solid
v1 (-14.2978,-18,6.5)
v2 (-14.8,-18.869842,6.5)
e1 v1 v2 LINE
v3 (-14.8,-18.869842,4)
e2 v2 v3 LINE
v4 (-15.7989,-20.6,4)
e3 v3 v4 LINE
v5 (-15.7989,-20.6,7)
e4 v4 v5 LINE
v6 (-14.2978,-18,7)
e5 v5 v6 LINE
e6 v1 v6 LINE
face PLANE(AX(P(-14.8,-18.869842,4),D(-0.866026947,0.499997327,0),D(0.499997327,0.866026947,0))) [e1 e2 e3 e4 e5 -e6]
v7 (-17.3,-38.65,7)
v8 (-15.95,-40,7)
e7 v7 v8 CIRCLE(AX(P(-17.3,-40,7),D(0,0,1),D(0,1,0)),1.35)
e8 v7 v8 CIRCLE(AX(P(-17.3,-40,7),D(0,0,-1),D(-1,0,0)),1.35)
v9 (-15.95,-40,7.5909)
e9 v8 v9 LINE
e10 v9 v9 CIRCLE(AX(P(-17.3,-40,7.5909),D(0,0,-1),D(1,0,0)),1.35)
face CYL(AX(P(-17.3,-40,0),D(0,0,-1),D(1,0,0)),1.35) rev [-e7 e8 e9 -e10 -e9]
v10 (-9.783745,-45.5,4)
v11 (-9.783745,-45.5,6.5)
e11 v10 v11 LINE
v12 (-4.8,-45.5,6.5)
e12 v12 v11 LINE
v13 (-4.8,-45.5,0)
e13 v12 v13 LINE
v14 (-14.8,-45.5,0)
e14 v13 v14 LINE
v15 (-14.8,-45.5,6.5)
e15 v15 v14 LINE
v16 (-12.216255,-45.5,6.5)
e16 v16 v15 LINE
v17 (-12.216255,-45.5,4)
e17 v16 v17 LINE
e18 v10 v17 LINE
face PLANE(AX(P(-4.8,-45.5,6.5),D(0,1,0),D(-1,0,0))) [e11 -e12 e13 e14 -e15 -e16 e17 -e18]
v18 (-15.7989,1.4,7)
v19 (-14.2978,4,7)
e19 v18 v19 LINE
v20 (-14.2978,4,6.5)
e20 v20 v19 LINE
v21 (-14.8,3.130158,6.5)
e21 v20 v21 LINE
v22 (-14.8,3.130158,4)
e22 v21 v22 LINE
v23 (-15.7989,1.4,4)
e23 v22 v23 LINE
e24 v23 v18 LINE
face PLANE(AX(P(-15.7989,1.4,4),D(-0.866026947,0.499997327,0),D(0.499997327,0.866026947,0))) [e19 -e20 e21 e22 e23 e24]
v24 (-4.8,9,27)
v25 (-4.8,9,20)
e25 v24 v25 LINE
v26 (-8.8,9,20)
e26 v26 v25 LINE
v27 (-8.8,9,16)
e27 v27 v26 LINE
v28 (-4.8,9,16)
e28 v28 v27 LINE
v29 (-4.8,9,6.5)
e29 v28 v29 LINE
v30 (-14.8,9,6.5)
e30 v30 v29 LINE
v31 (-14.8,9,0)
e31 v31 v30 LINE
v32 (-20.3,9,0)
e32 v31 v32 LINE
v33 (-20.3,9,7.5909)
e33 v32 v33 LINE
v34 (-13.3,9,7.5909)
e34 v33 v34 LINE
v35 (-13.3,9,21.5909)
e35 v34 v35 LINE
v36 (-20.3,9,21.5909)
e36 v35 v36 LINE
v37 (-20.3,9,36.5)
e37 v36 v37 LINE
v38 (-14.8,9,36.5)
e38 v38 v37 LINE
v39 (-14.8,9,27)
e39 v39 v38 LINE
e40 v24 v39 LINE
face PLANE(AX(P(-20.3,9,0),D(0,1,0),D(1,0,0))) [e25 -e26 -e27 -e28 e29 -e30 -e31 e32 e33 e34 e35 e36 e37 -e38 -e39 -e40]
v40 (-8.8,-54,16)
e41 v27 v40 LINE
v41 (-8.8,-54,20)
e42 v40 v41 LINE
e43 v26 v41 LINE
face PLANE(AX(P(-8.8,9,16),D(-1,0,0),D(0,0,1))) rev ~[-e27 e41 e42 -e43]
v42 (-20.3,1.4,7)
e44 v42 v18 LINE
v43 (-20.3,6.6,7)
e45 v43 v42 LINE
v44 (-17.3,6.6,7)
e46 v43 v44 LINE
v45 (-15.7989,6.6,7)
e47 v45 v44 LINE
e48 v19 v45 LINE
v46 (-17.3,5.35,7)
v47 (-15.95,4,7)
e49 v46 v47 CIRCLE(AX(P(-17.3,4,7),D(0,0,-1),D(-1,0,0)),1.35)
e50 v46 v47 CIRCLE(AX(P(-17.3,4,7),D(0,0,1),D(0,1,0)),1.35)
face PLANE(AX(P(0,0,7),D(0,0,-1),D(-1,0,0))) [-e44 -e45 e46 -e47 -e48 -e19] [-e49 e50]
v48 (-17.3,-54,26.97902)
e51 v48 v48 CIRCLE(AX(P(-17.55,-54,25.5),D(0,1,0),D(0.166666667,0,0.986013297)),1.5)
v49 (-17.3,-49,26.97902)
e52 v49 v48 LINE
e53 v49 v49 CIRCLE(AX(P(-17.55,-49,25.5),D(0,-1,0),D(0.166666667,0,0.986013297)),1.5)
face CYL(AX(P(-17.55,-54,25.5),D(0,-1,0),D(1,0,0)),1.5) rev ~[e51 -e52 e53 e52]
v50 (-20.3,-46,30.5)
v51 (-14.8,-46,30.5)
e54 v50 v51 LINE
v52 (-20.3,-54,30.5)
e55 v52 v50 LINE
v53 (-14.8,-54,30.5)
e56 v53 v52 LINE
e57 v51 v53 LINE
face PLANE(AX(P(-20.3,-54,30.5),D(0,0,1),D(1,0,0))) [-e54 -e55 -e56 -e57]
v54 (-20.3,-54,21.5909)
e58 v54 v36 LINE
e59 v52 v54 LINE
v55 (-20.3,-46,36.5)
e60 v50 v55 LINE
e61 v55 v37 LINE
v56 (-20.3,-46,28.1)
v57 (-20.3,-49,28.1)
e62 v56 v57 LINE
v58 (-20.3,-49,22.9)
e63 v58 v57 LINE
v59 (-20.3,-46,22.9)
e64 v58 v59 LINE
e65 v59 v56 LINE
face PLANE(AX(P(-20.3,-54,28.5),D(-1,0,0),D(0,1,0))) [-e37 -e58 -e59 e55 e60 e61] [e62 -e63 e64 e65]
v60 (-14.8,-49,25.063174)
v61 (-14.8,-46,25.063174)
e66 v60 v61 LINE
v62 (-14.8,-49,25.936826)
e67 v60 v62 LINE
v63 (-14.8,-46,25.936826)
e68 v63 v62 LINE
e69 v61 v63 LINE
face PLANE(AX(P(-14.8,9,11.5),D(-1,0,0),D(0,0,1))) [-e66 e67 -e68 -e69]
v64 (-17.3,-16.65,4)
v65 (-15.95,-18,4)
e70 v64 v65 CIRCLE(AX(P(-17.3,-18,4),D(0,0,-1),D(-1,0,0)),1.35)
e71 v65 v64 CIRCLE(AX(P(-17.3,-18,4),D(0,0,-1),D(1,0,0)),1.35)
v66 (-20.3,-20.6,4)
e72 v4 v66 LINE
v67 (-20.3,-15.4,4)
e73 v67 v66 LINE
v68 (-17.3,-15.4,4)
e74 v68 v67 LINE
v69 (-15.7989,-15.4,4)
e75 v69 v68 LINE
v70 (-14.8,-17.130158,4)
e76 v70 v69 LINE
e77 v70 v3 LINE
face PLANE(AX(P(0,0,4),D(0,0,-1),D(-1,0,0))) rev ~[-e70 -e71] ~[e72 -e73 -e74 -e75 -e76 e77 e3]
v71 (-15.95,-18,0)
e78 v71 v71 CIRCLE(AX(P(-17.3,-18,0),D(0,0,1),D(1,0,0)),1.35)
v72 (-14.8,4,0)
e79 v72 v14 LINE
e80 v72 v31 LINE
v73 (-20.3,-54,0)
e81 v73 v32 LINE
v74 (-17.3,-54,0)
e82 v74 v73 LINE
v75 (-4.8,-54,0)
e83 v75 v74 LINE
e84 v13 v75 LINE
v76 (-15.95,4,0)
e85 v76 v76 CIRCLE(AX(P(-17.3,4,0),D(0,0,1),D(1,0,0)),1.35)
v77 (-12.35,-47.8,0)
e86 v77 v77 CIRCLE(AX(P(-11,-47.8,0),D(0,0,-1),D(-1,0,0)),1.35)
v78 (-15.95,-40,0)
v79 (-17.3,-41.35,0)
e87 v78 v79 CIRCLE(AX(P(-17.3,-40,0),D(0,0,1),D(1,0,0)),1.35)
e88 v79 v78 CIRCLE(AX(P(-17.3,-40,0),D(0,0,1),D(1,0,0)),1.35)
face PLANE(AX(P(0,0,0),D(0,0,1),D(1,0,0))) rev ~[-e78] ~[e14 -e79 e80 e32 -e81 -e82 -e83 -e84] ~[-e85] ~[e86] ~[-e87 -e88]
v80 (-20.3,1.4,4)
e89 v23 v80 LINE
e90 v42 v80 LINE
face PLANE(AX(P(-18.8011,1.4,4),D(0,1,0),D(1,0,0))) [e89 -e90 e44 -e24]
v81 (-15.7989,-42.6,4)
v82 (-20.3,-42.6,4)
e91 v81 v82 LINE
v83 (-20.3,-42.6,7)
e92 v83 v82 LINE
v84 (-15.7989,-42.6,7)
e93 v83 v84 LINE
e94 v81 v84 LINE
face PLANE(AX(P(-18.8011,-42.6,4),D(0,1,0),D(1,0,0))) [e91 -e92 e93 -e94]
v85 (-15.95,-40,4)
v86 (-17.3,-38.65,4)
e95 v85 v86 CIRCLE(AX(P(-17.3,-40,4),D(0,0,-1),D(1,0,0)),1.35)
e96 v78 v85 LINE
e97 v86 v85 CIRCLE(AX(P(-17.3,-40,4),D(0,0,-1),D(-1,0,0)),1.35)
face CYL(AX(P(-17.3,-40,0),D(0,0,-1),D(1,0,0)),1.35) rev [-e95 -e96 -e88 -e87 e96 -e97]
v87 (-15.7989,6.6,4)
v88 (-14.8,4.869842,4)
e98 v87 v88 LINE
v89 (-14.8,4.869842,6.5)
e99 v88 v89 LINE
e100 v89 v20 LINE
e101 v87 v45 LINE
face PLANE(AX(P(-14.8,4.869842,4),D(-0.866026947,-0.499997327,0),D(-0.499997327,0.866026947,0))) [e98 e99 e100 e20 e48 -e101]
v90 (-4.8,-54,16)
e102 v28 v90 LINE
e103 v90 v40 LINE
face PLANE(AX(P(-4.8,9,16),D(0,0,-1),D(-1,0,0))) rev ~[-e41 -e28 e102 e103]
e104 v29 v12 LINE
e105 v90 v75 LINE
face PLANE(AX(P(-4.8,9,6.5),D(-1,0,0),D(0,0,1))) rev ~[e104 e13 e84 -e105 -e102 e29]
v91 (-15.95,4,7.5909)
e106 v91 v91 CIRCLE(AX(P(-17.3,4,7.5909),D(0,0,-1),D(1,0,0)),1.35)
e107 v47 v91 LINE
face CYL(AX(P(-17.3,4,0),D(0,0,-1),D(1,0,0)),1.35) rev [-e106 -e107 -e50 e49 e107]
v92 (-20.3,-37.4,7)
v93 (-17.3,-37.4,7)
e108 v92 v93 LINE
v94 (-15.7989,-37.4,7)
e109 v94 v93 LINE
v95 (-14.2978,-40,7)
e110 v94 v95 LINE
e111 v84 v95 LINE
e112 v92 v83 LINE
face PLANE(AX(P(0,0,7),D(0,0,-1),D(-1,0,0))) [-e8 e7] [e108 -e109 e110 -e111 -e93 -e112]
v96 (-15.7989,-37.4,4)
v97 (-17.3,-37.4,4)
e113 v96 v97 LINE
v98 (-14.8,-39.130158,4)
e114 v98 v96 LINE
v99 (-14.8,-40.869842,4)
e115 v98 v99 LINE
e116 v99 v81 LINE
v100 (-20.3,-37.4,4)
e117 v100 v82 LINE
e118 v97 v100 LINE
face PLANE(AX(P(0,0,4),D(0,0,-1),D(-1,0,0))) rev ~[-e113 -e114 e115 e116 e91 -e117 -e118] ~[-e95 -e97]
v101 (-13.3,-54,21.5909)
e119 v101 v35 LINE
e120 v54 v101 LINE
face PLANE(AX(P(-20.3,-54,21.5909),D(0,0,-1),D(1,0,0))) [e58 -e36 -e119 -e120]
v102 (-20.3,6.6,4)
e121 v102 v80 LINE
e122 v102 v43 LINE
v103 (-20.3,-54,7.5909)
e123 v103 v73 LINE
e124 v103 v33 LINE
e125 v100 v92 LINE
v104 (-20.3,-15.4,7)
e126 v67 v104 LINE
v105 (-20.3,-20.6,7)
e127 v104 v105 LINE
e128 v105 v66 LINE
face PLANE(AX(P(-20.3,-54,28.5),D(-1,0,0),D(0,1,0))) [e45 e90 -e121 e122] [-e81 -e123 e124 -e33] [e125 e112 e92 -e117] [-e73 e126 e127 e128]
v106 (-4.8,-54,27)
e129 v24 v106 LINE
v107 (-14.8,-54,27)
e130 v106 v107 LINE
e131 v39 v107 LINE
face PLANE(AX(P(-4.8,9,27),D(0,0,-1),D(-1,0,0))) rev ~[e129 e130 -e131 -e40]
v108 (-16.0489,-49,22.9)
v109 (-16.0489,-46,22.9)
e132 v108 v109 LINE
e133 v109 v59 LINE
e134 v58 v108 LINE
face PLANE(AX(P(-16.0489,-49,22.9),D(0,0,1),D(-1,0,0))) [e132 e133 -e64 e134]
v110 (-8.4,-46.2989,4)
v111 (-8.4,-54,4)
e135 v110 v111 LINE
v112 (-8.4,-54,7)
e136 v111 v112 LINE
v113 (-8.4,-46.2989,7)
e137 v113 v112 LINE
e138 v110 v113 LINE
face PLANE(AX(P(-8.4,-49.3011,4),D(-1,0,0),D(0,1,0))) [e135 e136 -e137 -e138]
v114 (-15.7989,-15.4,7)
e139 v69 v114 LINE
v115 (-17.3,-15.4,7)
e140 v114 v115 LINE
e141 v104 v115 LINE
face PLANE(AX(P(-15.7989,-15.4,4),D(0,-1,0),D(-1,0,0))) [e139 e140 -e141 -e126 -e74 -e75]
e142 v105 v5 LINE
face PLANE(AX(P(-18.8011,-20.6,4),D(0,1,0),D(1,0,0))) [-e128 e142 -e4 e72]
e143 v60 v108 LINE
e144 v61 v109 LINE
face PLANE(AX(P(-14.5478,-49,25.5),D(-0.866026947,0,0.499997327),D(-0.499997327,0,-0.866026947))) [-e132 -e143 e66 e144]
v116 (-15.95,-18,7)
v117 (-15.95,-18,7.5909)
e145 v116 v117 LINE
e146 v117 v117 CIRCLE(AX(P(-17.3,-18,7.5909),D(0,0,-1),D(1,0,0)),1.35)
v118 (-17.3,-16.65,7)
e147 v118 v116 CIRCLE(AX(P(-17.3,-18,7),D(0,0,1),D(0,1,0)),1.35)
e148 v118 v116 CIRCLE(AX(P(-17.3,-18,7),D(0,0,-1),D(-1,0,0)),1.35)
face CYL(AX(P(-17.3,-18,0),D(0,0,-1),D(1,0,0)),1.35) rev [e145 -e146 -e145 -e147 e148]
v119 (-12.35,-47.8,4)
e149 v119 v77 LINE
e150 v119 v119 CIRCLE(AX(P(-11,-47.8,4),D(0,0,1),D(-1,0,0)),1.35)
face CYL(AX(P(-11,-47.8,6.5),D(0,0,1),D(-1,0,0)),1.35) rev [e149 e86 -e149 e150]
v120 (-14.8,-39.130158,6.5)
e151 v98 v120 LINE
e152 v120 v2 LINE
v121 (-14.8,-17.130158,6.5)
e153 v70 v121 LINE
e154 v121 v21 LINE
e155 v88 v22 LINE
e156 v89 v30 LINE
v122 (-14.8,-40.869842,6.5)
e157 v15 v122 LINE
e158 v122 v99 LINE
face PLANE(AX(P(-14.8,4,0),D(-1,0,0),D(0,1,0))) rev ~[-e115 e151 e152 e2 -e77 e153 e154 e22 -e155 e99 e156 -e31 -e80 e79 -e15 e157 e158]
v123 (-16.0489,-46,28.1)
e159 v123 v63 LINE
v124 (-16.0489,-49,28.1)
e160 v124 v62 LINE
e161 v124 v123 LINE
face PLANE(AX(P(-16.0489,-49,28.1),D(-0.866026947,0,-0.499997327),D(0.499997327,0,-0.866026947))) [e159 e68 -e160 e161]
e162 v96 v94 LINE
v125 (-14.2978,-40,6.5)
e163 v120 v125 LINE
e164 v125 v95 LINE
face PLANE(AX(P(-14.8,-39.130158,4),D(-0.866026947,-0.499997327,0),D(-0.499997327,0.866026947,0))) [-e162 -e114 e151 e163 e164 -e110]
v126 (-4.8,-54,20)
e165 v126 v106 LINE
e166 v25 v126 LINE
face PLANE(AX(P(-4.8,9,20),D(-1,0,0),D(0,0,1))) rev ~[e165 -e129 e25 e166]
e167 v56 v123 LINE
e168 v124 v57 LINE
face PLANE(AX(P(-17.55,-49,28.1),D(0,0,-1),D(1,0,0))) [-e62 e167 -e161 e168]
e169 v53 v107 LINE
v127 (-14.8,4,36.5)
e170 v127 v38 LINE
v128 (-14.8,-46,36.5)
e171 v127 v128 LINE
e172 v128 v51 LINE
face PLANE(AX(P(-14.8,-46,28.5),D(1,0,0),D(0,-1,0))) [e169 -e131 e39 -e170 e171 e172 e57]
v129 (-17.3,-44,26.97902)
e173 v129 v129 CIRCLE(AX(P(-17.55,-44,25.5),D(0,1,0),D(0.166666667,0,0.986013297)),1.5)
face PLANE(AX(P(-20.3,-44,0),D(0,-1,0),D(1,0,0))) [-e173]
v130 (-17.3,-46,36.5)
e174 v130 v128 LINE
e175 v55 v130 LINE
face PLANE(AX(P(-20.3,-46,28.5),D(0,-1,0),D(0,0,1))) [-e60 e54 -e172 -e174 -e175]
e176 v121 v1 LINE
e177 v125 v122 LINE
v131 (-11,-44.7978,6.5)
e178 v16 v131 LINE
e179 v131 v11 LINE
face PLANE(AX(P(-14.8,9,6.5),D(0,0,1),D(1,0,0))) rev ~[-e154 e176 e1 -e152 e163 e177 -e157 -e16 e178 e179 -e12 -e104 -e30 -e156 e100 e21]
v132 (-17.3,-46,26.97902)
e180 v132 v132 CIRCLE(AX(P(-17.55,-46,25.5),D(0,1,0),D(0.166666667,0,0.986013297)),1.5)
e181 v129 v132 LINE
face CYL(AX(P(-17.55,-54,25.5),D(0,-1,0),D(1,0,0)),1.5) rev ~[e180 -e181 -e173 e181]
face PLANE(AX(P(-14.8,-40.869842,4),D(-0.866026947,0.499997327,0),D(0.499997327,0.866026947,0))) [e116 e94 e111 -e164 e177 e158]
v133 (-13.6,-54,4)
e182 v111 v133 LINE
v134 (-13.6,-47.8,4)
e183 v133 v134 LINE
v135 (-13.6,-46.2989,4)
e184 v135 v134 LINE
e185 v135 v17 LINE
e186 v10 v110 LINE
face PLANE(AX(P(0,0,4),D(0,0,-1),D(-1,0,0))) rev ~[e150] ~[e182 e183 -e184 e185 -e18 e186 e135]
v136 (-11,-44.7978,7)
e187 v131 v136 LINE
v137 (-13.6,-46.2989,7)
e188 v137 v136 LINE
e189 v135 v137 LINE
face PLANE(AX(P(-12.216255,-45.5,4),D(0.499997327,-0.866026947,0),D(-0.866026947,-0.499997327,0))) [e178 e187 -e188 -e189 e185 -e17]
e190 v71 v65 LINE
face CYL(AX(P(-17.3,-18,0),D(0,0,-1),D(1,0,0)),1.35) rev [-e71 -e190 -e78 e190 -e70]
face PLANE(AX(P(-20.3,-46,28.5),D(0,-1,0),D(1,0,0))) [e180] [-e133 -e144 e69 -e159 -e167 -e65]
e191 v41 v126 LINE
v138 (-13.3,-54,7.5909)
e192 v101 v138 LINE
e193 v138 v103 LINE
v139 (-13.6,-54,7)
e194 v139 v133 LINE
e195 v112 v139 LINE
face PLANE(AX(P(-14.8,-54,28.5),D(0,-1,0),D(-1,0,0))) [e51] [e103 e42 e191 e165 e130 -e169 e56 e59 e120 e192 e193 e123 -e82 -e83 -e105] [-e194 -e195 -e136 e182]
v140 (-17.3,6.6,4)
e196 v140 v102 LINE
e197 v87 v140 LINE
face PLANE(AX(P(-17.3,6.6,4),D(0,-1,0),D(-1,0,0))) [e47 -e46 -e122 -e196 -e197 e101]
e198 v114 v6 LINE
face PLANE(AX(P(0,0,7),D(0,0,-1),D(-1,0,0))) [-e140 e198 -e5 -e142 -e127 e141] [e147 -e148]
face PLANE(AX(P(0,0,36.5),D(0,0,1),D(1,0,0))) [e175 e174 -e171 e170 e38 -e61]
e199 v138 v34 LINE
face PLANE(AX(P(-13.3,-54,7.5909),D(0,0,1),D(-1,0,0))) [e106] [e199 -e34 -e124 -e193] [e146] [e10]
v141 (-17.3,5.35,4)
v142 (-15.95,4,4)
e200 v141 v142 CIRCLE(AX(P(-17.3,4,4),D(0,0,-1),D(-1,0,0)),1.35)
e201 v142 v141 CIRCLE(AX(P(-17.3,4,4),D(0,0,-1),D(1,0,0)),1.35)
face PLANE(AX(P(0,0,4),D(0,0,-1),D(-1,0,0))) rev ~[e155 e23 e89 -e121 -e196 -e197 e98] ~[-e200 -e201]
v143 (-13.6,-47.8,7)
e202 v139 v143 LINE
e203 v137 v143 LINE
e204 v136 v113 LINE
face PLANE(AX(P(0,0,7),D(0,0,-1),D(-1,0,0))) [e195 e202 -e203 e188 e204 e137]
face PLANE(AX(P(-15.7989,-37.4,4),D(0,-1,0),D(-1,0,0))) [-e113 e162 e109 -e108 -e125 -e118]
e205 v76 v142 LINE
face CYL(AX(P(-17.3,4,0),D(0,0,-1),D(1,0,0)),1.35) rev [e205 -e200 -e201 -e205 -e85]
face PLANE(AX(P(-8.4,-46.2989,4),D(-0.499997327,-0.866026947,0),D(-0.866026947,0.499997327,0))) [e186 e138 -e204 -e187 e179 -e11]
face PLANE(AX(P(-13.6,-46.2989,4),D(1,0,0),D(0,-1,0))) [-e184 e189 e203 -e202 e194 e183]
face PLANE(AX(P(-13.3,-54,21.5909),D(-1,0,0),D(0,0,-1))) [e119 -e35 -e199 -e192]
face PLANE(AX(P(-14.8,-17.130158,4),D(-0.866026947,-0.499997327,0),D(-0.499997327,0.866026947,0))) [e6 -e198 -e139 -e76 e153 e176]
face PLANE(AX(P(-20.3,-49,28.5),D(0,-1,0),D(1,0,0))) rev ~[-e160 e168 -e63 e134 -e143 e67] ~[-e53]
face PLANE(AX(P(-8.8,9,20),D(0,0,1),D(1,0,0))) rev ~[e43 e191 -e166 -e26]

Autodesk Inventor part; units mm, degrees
ref_plane "Work Plane1" through (0, 0, 0) normal (0, 0, 1) x (1, 0, 0)
sketch "Sketch1" plane through (0, 0, 0) normal (0, 0, 1) x (1, 0, 0)
  circle A0 centre (-17.3, 4) radius 1.35 projected
  circle A1 centre (-17.3, -18) radius 1.35 projected
  circle A2 centre (-17.3, -40) radius 1.35 projected
  line L0 (-17.3, 4) -> (-14.8, 4)
  line L1 (-14.8, 4) -> (-14.8, 9)
  line L2 (-14.8, 9) -> (-20.3, 9)
  line L3 (-17.3, -40) -> (-17.3, -54)
  line L4 (-14.8, 4) -> (-14.8, -54)
  line L5 (-14.8, -54) -> (-17.3, -54)
  line L6 (-17.3, -54) -> (-20.3, -54)
  line L7 (-20.3, -54) -> (-20.3, 9)
  point P0 (0, 0)
  dimension "d0" = 2.5
  dimension "d1" = 5
  dimension "d2" = 5.5
  dimension "d3" = 14
extrude "Extrusion1" add sketch "Sketch1" along normal blind 36.5
sketch "Sketch2" plane through (-20.3, -54, 0) normal (0, -1, 0) x (1, 0, 0)
  line L0 (0, 0) -> (5.5, 0) projected
  line L1 (5.5, 0) -> (5.5, 36.5) projected
  line L2 (0, 36.5) -> (5.5, 36.5) projected
  line L3 (0, 0) -> (0, 36.5) projected
  line L4 (2.75, 36.5) -> (2.75, 25.5)
  circle A0 centre (2.75, 25.5) radius 1.5
  point P0 (20.3, 0)
  dimension "d6" = 11
  dimension "d7" = 3
extrude "Extrusion2" cut sketch "Sketch2" against normal blind 10 contours A0
sketch "Sketch3" plane through (-20.3, -54, 0) normal (-1, 0, 0) x (0, 0, 1)
  line L0 (0, 63) -> (0, 0) projected
  line L1 (0, 0) -> (36.5, 0) projected
  line L2 (36.5, 63) -> (36.5, 0) projected
  line L3 (0, 63) -> (36.5, 63) projected
  line L4 (0, 0) -> (36.5, 0) projected
  line L5 (36.5, 0) -> (28.5, 0)
  line L6 (28.5, 0) -> (28.5, 8)
  line L7 (28.5, 8) -> (36.5, 8)
  line L8 (36.5, 8) -> (36.5, 0)
  point P0 (0, 54)
  dimension "d10" = 8
  dimension "d11" = 8
extrude "Extrusion3" cut sketch "Sketch3" against normal blind 10 contours L6 L7 L2 L1
sketch "Sketch4" plane through (-20.3, 9, 0) normal (0, 1, 0) x (1, 0, 0)
  line L0 (5.5, 0) -> (0, 0) projected
  line L1 (0, 0) -> (0, -36.5) projected
  line L2 (5.5, -36.5) -> (0, -36.5) projected
  line L3 (5.5, 0) -> (5.5, -36.5) projected
  line L4 (6.8, -6) -> (8.8, -6) projected
  line L5 (6.8, -6) -> (5.5, -6)
  line L6 (5.5, -6) -> (5.5, -6.5)
  line L7 (5.5, 0) -> (5.5, -28.5) projected
  line L8 (5.5, -6.5) -> (15.5, -6.5)
  line L9 (15.5, -6.5) -> (15.5, -11.5)
  line L10 (15.5, -11.5) -> (5.5, -11.5)
  line L11 (5.5, -11.5) -> (5.5, -6.5)
  point P0 (20.3, 0)
  dimension "d14" = 0.5
  dimension "d15" = 10
  dimension "d16" = 5
extrude "Extrusion4" add sketch "Sketch4" against normal up to surface (63 mm away) contours L8 L9 L10 L3
sketch "Sketch5" plane through (-4.8, 9, 6.5) normal (0, 0, -1) x (-1, 0, 0)
  circle A0 centre (12.5, -49) radius 1.35 projected
  circle A1 centre (12.5, -27) radius 1.35 projected
  circle A2 centre (12.5, -5) radius 1.35 projected
  line L0 (10, -63) -> (10, 0) projected
  line L1 (15.5, -63) -> (10, -63) projected
  line L2 (15.5, 0) -> (15.5, -63) projected
  line L3 (10, 0) -> (15.5, 0) projected
  line L4 (0, -63) -> (10, -63) projected
  line L5 (10, 0) -> (10, -63) projected
  line L6 (0, 0) -> (10, 0) projected
  line L7 (0, 0) -> (0, -63) projected
  line L8 (-19.8, 5.5) -> (-16.3, 5.5) projected
  line L9 (-19.8, 5.5) -> (-24.9, -0.5) projected
  line L10 (-24.9, -0.5) -> (-24.9, -53.6) projected
  line L11 (-24.9, -53.6) -> (-19.8, -59.6) projected
  line L12 (-19.8, -59.6) -> (10.2, -59.6) projected
  line L13 (10.2, -59.6) -> (15.3, -53.6) projected
  line L14 (15.3, -53.6) -> (15.3, -0.5) projected
  line L15 (15.3, -0.5) -> (10.2, 5.5) projected
  line L16 (6.7, 5.5) -> (10.2, 5.5) projected
  arc A3 (9.7, 2.5) -> (6.7, 5.5) centre (6.7, 2.5) ccw projected
  line L17 (9.7, -51) -> (9.7, 2.5) projected
  arc A4 (6.7, -54) -> (9.7, -51) centre (6.7, -51) ccw projected
  line L18 (-16.3, -54) -> (6.7, -54) projected
  arc A5 (-19.3, -51) -> (-16.3, -54) centre (-16.3, -51) ccw projected
  line L19 (-19.3, 2.5) -> (-19.3, -51) projected
  arc A6 (-16.3, 5.5) -> (-19.3, 2.5) centre (-16.3, 2.5) ccw projected
  circle A7 centre (12.5, -5) radius 1.35 projected
  circle A8 centre (12.5, -27) radius 1.35 projected
  circle A9 centre (12.5, -49) radius 1.35 projected
  circle A10 centre (6.2, -56.8) radius 1.35 projected
  circle A11 centre (-22.1, -5) radius 1.35 projected
  circle A12 centre (-22.1, -27) radius 1.35 projected
  circle A13 centre (-22.1, -49) radius 1.35 projected
  circle A14 centre (-15.8, -56.8) radius 1.35 projected
  line L20 (10, 0) -> (10, -63) projected
  line L21 (10, -63) -> (0, -63)
  line L22 (0, -63) -> (0, -54.5)
  line L23 (0, -54.5) -> (10, -54.5)
  line L24 (10, -54.5) -> (10, -63)
  point P0 (-4.8, -9)
  dimension "d19" = 10
  dimension "d20" = 8.5
extrude "Extrusion5" add sketch "Sketch5" along normal up to surface (6.5 mm away) contours L0 L12 L7 L23 | L0 L4 L7 L12
ref_plane "Work Plane2" through (0, 0, 4) normal (0, 0, -1) x (-1, 0, 0)
sketch "Sketch6" plane through (0, 0, 4) normal (0, 0, -1) x (-1, 0, 0)
  circle A0 centre (17.3, 4) radius 1.35 projected
  circle A1 centre (17.3, -18) radius 1.35 projected
  circle A2 centre (11, -47.8) radius 1.35 projected
  circle A3 centre (17.3, -40) radius 1.35 projected
  circle A4 centre (17.3, -18) radius 1.35 projected
  circle A5 centre (17.3, 4) radius 1.35 projected
  line L0 (20.3, -54) -> (4.8, -54) projected
  line L1 (20.3, 9) -> (20.3, -54) projected
  line L2 (14.8, 9) -> (20.3, 9) projected
  line L3 (14.8, -45.5) -> (14.8, 9) projected
  line L4 (14.8, -45.5) -> (4.8, -45.5) projected
  line L5 (4.8, -45.5) -> (4.8, -54) projected
  circle A6 centre (11, -47.8) radius 1.35 projected
  circle A7 centre (11, -47.8) radius 1.35 projected
  line L6 (17.3, 4) -> (17.3, 6.6)
  line L7 (18.8011, 6.6) -> (20.3022, 4)
  line L8 (20.3022, 4) -> (18.8011, 1.4)
  line L9 (18.8011, 1.4) -> (15.7989, 1.4)
  line L10 (15.7989, 1.4) -> (14.2978, 4)
  line L11 (14.2978, 4) -> (15.7989, 6.6)
  line L12 (15.7989, 6.6) -> (18.8011, 6.6)
  line L13 (18.8011, 1.4) -> (28.5961, 1.4)
  line L14 (28.5961, 1.4) -> (28.5961, 6.6)
  line L15 (28.5961, 6.6) -> (18.8011, 6.6)
  line L16 (18.8011, 6.6) -> (18.8011, 1.4)
  line L17 (11, -47.8) -> (13.6, -47.8)
  line L18 (13.6, -49.3011) -> (11, -50.8022)
  line L19 (11, -50.8022) -> (8.4, -49.3011)
  line L20 (8.4, -49.3011) -> (8.4, -46.2989)
  line L21 (8.4, -46.2989) -> (11, -44.7978)
  line L22 (11, -44.7978) -> (13.6, -46.2989)
  line L23 (13.6, -46.2989) -> (13.6, -49.3011)
  line L24 (13.6, -49.3011) -> (8.4, -49.3011)
  line L25 (8.4, -49.3011) -> (8.4, -56.2377)
  line L26 (8.4, -56.2377) -> (13.6, -56.2377)
  line L27 (13.6, -56.2377) -> (13.6, -49.3011)
  line L28 (18.8011, -15.4) -> (20.3022, -18)
  line L29 (20.3022, -18) -> (18.8011, -20.6)
  line L30 (18.8011, -20.6) -> (28.5961, -20.6)
  line L31 (28.5961, -20.6) -> (28.5961, -15.4)
  line L32 (28.5961, -15.4) -> (18.8011, -15.4)
  line L33 (18.8011, -15.4) -> (18.8011, -20.6)
  line L34 (17.3, -18) -> (17.3, -15.4)
  line L35 (18.8011, -20.6) -> (15.7989, -20.6)
  line L36 (15.7989, -15.4) -> (18.8011, -15.4)
  line L37 (15.7989, -20.6) -> (14.2978, -18)
  line L38 (14.2978, -18) -> (15.7989, -15.4)
  line L39 (18.8011, -37.4) -> (20.3022, -40)
  line L40 (20.3022, -40) -> (18.8011, -42.6)
  line L41 (18.8011, -42.6) -> (28.5961, -42.6)
  line L42 (28.5961, -42.6) -> (28.5961, -37.4)
  line L43 (28.5961, -37.4) -> (18.8011, -37.4)
  line L44 (18.8011, -37.4) -> (18.8011, -42.6)
  line L45 (17.3, -40) -> (17.3, -37.4)
  line L46 (18.8011, -42.6) -> (15.7989, -42.6)
  line L47 (15.7989, -37.4) -> (18.8011, -37.4)
  line L48 (15.7989, -42.6) -> (14.2978, -40)
  line L49 (14.2978, -40) -> (15.7989, -37.4)
  point P0 (0, 0)
  dimension "d24" = 2.6
  dimension "d25" = 2.6
  dimension "d28" = 22
extrude "Extrusion6" cut sketch "Sketch6" against normal blind 3 contours L12 L16 L9 L10 L3 L11 | L15 L1 L7 | L7 L8 L16 | L3 L10 L11 | L1 L15 L14 L13 | L1 L13 L8 | L38 L36 L33 L35 L37 L3 | L3 L37 L38 | L32 L31 L30 L1 | L1 L28 L32 | L29 L33 L28 | L1 L30 L29 | L49 L47 L44 L46 L48 L3 | L3 L48 L49 | L43 L42 L41 L1 | L1 L39 L43 | L40 L44 L39 | L1 L41 L40 | A2 | L22 L23 L24 L20 L21 L4 | L4 L21 L22 | L27 L26 L25 L0 | L0 L25 L19 L18 L27 | L24 L18 L19
sketch "Sketch7" plane through (0, 0, 36.5) normal (0, 0, 1) x (1, 0, 0)
  line L0 (-20.3, -46) -> (-14.8, -46) projected
  line L1 (-14.8, -46) -> (-14.8, 9) projected
  line L2 (-14.8, 9) -> (-20.3, 9) projected
  line L3 (-20.3, 9) -> (-20.3, -46) projected
  circle A0 centre (-17.3, 4) radius 1.35 projected
  circle A1 centre (-17.3, -18) radius 1.35 projected
  circle A2 centre (-17.3, -40) radius 1.35 projected
  point P0 (0, 0)
extrude "Extrusion7" add sketch "Sketch7" against normal blind 25 contours A0 | A1 | A2
ref_plane "Work Plane3" through (-20.3, -49, 28.5) normal (0, -1, 0) x (1, 0, 0)
sketch "Sketch8" plane through (-20.3, -49, 28.5) normal (0, -1, 0) x (1, 0, 0)
  circle A0 centre (2.75, -3) radius 1.5 projected
  line L0 (2.75, -3) -> (2.75, -0.4)
  line L1 (4.2511, -0.4) -> (5.7522, -3)
  line L2 (5.7522, -3) -> (4.2511, -5.6)
  line L3 (4.2511, -5.6) -> (1.2489, -5.6)
  line L4 (1.2489, -5.6) -> (-0.2522, -3)
  line L5 (-0.2522, -3) -> (1.2489, -0.4)
  line L6 (1.2489, -0.4) -> (4.2511, -0.4)
  line L7 (1.2489, -0.4) -> (-2.7612, -0.4)
  line L8 (-2.7612, -0.4) -> (-2.7612, -5.6)
  line L9 (-2.7612, -5.6) -> (1.2489, -5.6)
  line L10 (1.2489, -5.6) -> (1.2489, -0.4)
  point P0 (20.3, -28.5)
  dimension "d38" = 2.6
extrude "Extrusion8" cut sketch "Sketch8" against normal blind 3 contours A0 L0 L6 L1 L2 L3 L10 | A0 L10 L6 L0 | L10 L4 L5 | L9 L8 L7 L5 L4
sketch "Sketch9" plane through (-20.3, 9, 0) normal (0, 1, 0) x (1, 0, 0)
  line L0 (5.5, 0) -> (0, 0) projected
  line L1 (0, 0) -> (0, -36.5) projected
  line L2 (5.5, -36.5) -> (0, -36.5) projected
  line L3 (5.5, -11.5) -> (5.5, -36.5) projected
  line L4 (5.5, -11.5) -> (15.5, -11.5) projected
  line L5 (15.5, -11.5) -> (15.5, -6.5) projected
  line L6 (15.5, -6.5) -> (5.5, -6.5) projected
  line L7 (5.5, 0) -> (5.5, -6.5) projected
  line L8 (5.5, -11.5) -> (15.5, -11.5) projected
  line L9 (5.5, -11.5) -> (5.5, -28.5) projected
  line L10 (15.5, -11.5) -> (5.5, -11.5)
  line L11 (5.5, -20) -> (15.5, -20)
  line L12 (5.5, -20) -> (11.5, -20)
  line L13 (5.5, -24) -> (5.5, -20)
  line L14 (15.5, -24) -> (15.5, -27)
  line L15 (15.5, -27) -> (5.5, -27)
  line L16 (5.5, -27) -> (5.5, -24)
  line L17 (5.5, -11.5) -> (15.5, -11.5)
  line L18 (15.5, -11.5) -> (15.5, -16)
  line L19 (15.5, -16) -> (5.5, -16)
  line L20 (5.5, -16) -> (5.5, -11.5)
  line L21 (5.5, -16) -> (11.5, -16)
  line L22 (11.5, -16) -> (11.5, -20)
  line L23 (11.5, -20) -> (5.5, -20)
  line L24 (5.5, -20) -> (5.5, -16)
  line L25 (5.5, -20) -> (15.5, -20)
  line L26 (15.5, -20) -> (15.5, -27)
  line L27 (15.5, -27) -> (5.5, -27)
  line L28 (5.5, -27) -> (5.5, -20)
  point P0 (20.3, 0)
  dimension "d41" = 8.5
  dimension "d44" = 10
  dimension "d45" = 3
  dimension "d48" = 4.5
extrude "Extrusion9" add sketch "Sketch9" against normal up to surface (63 mm away) contours L18 L19 L3 L4 | L3 L11 L26 L14 L15 | L19 L22 L11 L3
sketch "Sketch11" plane through (-20.3, -54, 28.5) normal (0, 0, 1) x (1, 0, 0)
  line L0 (5.5, 8) -> (5.5, 0) projected
  line L1 (0, 8) -> (5.5, 8) projected
  line L2 (0, 0) -> (0, 8) projected
  line L3 (5.5, 0) -> (0, 0) projected
  point P0 (20.3, 54)
extrude "Extrusion10" add sketch "Sketch11" along normal blind 2
sketch "Sketch12" plane through (-20.3, -54, 0) normal (0, -1, 0) x (1, 0, 0)
  line L0 (0, 0) -> (0, 30.5) projected
  line L1 (0, 21.5909) -> (7, 21.5909)
  line L2 (7, 21.5909) -> (7, 7.5909)
  line L3 (7, 7.5909) -> (0, 7.5909)
  line L4 (0, 7.5909) -> (0, 21.5909)
  point P0 (20.3, 0)
  dimension "d51" = 7
  dimension "d52" = 14
extrude "Extrusion11" cut sketch "Sketch12" against normal through all
properties part number "side"
